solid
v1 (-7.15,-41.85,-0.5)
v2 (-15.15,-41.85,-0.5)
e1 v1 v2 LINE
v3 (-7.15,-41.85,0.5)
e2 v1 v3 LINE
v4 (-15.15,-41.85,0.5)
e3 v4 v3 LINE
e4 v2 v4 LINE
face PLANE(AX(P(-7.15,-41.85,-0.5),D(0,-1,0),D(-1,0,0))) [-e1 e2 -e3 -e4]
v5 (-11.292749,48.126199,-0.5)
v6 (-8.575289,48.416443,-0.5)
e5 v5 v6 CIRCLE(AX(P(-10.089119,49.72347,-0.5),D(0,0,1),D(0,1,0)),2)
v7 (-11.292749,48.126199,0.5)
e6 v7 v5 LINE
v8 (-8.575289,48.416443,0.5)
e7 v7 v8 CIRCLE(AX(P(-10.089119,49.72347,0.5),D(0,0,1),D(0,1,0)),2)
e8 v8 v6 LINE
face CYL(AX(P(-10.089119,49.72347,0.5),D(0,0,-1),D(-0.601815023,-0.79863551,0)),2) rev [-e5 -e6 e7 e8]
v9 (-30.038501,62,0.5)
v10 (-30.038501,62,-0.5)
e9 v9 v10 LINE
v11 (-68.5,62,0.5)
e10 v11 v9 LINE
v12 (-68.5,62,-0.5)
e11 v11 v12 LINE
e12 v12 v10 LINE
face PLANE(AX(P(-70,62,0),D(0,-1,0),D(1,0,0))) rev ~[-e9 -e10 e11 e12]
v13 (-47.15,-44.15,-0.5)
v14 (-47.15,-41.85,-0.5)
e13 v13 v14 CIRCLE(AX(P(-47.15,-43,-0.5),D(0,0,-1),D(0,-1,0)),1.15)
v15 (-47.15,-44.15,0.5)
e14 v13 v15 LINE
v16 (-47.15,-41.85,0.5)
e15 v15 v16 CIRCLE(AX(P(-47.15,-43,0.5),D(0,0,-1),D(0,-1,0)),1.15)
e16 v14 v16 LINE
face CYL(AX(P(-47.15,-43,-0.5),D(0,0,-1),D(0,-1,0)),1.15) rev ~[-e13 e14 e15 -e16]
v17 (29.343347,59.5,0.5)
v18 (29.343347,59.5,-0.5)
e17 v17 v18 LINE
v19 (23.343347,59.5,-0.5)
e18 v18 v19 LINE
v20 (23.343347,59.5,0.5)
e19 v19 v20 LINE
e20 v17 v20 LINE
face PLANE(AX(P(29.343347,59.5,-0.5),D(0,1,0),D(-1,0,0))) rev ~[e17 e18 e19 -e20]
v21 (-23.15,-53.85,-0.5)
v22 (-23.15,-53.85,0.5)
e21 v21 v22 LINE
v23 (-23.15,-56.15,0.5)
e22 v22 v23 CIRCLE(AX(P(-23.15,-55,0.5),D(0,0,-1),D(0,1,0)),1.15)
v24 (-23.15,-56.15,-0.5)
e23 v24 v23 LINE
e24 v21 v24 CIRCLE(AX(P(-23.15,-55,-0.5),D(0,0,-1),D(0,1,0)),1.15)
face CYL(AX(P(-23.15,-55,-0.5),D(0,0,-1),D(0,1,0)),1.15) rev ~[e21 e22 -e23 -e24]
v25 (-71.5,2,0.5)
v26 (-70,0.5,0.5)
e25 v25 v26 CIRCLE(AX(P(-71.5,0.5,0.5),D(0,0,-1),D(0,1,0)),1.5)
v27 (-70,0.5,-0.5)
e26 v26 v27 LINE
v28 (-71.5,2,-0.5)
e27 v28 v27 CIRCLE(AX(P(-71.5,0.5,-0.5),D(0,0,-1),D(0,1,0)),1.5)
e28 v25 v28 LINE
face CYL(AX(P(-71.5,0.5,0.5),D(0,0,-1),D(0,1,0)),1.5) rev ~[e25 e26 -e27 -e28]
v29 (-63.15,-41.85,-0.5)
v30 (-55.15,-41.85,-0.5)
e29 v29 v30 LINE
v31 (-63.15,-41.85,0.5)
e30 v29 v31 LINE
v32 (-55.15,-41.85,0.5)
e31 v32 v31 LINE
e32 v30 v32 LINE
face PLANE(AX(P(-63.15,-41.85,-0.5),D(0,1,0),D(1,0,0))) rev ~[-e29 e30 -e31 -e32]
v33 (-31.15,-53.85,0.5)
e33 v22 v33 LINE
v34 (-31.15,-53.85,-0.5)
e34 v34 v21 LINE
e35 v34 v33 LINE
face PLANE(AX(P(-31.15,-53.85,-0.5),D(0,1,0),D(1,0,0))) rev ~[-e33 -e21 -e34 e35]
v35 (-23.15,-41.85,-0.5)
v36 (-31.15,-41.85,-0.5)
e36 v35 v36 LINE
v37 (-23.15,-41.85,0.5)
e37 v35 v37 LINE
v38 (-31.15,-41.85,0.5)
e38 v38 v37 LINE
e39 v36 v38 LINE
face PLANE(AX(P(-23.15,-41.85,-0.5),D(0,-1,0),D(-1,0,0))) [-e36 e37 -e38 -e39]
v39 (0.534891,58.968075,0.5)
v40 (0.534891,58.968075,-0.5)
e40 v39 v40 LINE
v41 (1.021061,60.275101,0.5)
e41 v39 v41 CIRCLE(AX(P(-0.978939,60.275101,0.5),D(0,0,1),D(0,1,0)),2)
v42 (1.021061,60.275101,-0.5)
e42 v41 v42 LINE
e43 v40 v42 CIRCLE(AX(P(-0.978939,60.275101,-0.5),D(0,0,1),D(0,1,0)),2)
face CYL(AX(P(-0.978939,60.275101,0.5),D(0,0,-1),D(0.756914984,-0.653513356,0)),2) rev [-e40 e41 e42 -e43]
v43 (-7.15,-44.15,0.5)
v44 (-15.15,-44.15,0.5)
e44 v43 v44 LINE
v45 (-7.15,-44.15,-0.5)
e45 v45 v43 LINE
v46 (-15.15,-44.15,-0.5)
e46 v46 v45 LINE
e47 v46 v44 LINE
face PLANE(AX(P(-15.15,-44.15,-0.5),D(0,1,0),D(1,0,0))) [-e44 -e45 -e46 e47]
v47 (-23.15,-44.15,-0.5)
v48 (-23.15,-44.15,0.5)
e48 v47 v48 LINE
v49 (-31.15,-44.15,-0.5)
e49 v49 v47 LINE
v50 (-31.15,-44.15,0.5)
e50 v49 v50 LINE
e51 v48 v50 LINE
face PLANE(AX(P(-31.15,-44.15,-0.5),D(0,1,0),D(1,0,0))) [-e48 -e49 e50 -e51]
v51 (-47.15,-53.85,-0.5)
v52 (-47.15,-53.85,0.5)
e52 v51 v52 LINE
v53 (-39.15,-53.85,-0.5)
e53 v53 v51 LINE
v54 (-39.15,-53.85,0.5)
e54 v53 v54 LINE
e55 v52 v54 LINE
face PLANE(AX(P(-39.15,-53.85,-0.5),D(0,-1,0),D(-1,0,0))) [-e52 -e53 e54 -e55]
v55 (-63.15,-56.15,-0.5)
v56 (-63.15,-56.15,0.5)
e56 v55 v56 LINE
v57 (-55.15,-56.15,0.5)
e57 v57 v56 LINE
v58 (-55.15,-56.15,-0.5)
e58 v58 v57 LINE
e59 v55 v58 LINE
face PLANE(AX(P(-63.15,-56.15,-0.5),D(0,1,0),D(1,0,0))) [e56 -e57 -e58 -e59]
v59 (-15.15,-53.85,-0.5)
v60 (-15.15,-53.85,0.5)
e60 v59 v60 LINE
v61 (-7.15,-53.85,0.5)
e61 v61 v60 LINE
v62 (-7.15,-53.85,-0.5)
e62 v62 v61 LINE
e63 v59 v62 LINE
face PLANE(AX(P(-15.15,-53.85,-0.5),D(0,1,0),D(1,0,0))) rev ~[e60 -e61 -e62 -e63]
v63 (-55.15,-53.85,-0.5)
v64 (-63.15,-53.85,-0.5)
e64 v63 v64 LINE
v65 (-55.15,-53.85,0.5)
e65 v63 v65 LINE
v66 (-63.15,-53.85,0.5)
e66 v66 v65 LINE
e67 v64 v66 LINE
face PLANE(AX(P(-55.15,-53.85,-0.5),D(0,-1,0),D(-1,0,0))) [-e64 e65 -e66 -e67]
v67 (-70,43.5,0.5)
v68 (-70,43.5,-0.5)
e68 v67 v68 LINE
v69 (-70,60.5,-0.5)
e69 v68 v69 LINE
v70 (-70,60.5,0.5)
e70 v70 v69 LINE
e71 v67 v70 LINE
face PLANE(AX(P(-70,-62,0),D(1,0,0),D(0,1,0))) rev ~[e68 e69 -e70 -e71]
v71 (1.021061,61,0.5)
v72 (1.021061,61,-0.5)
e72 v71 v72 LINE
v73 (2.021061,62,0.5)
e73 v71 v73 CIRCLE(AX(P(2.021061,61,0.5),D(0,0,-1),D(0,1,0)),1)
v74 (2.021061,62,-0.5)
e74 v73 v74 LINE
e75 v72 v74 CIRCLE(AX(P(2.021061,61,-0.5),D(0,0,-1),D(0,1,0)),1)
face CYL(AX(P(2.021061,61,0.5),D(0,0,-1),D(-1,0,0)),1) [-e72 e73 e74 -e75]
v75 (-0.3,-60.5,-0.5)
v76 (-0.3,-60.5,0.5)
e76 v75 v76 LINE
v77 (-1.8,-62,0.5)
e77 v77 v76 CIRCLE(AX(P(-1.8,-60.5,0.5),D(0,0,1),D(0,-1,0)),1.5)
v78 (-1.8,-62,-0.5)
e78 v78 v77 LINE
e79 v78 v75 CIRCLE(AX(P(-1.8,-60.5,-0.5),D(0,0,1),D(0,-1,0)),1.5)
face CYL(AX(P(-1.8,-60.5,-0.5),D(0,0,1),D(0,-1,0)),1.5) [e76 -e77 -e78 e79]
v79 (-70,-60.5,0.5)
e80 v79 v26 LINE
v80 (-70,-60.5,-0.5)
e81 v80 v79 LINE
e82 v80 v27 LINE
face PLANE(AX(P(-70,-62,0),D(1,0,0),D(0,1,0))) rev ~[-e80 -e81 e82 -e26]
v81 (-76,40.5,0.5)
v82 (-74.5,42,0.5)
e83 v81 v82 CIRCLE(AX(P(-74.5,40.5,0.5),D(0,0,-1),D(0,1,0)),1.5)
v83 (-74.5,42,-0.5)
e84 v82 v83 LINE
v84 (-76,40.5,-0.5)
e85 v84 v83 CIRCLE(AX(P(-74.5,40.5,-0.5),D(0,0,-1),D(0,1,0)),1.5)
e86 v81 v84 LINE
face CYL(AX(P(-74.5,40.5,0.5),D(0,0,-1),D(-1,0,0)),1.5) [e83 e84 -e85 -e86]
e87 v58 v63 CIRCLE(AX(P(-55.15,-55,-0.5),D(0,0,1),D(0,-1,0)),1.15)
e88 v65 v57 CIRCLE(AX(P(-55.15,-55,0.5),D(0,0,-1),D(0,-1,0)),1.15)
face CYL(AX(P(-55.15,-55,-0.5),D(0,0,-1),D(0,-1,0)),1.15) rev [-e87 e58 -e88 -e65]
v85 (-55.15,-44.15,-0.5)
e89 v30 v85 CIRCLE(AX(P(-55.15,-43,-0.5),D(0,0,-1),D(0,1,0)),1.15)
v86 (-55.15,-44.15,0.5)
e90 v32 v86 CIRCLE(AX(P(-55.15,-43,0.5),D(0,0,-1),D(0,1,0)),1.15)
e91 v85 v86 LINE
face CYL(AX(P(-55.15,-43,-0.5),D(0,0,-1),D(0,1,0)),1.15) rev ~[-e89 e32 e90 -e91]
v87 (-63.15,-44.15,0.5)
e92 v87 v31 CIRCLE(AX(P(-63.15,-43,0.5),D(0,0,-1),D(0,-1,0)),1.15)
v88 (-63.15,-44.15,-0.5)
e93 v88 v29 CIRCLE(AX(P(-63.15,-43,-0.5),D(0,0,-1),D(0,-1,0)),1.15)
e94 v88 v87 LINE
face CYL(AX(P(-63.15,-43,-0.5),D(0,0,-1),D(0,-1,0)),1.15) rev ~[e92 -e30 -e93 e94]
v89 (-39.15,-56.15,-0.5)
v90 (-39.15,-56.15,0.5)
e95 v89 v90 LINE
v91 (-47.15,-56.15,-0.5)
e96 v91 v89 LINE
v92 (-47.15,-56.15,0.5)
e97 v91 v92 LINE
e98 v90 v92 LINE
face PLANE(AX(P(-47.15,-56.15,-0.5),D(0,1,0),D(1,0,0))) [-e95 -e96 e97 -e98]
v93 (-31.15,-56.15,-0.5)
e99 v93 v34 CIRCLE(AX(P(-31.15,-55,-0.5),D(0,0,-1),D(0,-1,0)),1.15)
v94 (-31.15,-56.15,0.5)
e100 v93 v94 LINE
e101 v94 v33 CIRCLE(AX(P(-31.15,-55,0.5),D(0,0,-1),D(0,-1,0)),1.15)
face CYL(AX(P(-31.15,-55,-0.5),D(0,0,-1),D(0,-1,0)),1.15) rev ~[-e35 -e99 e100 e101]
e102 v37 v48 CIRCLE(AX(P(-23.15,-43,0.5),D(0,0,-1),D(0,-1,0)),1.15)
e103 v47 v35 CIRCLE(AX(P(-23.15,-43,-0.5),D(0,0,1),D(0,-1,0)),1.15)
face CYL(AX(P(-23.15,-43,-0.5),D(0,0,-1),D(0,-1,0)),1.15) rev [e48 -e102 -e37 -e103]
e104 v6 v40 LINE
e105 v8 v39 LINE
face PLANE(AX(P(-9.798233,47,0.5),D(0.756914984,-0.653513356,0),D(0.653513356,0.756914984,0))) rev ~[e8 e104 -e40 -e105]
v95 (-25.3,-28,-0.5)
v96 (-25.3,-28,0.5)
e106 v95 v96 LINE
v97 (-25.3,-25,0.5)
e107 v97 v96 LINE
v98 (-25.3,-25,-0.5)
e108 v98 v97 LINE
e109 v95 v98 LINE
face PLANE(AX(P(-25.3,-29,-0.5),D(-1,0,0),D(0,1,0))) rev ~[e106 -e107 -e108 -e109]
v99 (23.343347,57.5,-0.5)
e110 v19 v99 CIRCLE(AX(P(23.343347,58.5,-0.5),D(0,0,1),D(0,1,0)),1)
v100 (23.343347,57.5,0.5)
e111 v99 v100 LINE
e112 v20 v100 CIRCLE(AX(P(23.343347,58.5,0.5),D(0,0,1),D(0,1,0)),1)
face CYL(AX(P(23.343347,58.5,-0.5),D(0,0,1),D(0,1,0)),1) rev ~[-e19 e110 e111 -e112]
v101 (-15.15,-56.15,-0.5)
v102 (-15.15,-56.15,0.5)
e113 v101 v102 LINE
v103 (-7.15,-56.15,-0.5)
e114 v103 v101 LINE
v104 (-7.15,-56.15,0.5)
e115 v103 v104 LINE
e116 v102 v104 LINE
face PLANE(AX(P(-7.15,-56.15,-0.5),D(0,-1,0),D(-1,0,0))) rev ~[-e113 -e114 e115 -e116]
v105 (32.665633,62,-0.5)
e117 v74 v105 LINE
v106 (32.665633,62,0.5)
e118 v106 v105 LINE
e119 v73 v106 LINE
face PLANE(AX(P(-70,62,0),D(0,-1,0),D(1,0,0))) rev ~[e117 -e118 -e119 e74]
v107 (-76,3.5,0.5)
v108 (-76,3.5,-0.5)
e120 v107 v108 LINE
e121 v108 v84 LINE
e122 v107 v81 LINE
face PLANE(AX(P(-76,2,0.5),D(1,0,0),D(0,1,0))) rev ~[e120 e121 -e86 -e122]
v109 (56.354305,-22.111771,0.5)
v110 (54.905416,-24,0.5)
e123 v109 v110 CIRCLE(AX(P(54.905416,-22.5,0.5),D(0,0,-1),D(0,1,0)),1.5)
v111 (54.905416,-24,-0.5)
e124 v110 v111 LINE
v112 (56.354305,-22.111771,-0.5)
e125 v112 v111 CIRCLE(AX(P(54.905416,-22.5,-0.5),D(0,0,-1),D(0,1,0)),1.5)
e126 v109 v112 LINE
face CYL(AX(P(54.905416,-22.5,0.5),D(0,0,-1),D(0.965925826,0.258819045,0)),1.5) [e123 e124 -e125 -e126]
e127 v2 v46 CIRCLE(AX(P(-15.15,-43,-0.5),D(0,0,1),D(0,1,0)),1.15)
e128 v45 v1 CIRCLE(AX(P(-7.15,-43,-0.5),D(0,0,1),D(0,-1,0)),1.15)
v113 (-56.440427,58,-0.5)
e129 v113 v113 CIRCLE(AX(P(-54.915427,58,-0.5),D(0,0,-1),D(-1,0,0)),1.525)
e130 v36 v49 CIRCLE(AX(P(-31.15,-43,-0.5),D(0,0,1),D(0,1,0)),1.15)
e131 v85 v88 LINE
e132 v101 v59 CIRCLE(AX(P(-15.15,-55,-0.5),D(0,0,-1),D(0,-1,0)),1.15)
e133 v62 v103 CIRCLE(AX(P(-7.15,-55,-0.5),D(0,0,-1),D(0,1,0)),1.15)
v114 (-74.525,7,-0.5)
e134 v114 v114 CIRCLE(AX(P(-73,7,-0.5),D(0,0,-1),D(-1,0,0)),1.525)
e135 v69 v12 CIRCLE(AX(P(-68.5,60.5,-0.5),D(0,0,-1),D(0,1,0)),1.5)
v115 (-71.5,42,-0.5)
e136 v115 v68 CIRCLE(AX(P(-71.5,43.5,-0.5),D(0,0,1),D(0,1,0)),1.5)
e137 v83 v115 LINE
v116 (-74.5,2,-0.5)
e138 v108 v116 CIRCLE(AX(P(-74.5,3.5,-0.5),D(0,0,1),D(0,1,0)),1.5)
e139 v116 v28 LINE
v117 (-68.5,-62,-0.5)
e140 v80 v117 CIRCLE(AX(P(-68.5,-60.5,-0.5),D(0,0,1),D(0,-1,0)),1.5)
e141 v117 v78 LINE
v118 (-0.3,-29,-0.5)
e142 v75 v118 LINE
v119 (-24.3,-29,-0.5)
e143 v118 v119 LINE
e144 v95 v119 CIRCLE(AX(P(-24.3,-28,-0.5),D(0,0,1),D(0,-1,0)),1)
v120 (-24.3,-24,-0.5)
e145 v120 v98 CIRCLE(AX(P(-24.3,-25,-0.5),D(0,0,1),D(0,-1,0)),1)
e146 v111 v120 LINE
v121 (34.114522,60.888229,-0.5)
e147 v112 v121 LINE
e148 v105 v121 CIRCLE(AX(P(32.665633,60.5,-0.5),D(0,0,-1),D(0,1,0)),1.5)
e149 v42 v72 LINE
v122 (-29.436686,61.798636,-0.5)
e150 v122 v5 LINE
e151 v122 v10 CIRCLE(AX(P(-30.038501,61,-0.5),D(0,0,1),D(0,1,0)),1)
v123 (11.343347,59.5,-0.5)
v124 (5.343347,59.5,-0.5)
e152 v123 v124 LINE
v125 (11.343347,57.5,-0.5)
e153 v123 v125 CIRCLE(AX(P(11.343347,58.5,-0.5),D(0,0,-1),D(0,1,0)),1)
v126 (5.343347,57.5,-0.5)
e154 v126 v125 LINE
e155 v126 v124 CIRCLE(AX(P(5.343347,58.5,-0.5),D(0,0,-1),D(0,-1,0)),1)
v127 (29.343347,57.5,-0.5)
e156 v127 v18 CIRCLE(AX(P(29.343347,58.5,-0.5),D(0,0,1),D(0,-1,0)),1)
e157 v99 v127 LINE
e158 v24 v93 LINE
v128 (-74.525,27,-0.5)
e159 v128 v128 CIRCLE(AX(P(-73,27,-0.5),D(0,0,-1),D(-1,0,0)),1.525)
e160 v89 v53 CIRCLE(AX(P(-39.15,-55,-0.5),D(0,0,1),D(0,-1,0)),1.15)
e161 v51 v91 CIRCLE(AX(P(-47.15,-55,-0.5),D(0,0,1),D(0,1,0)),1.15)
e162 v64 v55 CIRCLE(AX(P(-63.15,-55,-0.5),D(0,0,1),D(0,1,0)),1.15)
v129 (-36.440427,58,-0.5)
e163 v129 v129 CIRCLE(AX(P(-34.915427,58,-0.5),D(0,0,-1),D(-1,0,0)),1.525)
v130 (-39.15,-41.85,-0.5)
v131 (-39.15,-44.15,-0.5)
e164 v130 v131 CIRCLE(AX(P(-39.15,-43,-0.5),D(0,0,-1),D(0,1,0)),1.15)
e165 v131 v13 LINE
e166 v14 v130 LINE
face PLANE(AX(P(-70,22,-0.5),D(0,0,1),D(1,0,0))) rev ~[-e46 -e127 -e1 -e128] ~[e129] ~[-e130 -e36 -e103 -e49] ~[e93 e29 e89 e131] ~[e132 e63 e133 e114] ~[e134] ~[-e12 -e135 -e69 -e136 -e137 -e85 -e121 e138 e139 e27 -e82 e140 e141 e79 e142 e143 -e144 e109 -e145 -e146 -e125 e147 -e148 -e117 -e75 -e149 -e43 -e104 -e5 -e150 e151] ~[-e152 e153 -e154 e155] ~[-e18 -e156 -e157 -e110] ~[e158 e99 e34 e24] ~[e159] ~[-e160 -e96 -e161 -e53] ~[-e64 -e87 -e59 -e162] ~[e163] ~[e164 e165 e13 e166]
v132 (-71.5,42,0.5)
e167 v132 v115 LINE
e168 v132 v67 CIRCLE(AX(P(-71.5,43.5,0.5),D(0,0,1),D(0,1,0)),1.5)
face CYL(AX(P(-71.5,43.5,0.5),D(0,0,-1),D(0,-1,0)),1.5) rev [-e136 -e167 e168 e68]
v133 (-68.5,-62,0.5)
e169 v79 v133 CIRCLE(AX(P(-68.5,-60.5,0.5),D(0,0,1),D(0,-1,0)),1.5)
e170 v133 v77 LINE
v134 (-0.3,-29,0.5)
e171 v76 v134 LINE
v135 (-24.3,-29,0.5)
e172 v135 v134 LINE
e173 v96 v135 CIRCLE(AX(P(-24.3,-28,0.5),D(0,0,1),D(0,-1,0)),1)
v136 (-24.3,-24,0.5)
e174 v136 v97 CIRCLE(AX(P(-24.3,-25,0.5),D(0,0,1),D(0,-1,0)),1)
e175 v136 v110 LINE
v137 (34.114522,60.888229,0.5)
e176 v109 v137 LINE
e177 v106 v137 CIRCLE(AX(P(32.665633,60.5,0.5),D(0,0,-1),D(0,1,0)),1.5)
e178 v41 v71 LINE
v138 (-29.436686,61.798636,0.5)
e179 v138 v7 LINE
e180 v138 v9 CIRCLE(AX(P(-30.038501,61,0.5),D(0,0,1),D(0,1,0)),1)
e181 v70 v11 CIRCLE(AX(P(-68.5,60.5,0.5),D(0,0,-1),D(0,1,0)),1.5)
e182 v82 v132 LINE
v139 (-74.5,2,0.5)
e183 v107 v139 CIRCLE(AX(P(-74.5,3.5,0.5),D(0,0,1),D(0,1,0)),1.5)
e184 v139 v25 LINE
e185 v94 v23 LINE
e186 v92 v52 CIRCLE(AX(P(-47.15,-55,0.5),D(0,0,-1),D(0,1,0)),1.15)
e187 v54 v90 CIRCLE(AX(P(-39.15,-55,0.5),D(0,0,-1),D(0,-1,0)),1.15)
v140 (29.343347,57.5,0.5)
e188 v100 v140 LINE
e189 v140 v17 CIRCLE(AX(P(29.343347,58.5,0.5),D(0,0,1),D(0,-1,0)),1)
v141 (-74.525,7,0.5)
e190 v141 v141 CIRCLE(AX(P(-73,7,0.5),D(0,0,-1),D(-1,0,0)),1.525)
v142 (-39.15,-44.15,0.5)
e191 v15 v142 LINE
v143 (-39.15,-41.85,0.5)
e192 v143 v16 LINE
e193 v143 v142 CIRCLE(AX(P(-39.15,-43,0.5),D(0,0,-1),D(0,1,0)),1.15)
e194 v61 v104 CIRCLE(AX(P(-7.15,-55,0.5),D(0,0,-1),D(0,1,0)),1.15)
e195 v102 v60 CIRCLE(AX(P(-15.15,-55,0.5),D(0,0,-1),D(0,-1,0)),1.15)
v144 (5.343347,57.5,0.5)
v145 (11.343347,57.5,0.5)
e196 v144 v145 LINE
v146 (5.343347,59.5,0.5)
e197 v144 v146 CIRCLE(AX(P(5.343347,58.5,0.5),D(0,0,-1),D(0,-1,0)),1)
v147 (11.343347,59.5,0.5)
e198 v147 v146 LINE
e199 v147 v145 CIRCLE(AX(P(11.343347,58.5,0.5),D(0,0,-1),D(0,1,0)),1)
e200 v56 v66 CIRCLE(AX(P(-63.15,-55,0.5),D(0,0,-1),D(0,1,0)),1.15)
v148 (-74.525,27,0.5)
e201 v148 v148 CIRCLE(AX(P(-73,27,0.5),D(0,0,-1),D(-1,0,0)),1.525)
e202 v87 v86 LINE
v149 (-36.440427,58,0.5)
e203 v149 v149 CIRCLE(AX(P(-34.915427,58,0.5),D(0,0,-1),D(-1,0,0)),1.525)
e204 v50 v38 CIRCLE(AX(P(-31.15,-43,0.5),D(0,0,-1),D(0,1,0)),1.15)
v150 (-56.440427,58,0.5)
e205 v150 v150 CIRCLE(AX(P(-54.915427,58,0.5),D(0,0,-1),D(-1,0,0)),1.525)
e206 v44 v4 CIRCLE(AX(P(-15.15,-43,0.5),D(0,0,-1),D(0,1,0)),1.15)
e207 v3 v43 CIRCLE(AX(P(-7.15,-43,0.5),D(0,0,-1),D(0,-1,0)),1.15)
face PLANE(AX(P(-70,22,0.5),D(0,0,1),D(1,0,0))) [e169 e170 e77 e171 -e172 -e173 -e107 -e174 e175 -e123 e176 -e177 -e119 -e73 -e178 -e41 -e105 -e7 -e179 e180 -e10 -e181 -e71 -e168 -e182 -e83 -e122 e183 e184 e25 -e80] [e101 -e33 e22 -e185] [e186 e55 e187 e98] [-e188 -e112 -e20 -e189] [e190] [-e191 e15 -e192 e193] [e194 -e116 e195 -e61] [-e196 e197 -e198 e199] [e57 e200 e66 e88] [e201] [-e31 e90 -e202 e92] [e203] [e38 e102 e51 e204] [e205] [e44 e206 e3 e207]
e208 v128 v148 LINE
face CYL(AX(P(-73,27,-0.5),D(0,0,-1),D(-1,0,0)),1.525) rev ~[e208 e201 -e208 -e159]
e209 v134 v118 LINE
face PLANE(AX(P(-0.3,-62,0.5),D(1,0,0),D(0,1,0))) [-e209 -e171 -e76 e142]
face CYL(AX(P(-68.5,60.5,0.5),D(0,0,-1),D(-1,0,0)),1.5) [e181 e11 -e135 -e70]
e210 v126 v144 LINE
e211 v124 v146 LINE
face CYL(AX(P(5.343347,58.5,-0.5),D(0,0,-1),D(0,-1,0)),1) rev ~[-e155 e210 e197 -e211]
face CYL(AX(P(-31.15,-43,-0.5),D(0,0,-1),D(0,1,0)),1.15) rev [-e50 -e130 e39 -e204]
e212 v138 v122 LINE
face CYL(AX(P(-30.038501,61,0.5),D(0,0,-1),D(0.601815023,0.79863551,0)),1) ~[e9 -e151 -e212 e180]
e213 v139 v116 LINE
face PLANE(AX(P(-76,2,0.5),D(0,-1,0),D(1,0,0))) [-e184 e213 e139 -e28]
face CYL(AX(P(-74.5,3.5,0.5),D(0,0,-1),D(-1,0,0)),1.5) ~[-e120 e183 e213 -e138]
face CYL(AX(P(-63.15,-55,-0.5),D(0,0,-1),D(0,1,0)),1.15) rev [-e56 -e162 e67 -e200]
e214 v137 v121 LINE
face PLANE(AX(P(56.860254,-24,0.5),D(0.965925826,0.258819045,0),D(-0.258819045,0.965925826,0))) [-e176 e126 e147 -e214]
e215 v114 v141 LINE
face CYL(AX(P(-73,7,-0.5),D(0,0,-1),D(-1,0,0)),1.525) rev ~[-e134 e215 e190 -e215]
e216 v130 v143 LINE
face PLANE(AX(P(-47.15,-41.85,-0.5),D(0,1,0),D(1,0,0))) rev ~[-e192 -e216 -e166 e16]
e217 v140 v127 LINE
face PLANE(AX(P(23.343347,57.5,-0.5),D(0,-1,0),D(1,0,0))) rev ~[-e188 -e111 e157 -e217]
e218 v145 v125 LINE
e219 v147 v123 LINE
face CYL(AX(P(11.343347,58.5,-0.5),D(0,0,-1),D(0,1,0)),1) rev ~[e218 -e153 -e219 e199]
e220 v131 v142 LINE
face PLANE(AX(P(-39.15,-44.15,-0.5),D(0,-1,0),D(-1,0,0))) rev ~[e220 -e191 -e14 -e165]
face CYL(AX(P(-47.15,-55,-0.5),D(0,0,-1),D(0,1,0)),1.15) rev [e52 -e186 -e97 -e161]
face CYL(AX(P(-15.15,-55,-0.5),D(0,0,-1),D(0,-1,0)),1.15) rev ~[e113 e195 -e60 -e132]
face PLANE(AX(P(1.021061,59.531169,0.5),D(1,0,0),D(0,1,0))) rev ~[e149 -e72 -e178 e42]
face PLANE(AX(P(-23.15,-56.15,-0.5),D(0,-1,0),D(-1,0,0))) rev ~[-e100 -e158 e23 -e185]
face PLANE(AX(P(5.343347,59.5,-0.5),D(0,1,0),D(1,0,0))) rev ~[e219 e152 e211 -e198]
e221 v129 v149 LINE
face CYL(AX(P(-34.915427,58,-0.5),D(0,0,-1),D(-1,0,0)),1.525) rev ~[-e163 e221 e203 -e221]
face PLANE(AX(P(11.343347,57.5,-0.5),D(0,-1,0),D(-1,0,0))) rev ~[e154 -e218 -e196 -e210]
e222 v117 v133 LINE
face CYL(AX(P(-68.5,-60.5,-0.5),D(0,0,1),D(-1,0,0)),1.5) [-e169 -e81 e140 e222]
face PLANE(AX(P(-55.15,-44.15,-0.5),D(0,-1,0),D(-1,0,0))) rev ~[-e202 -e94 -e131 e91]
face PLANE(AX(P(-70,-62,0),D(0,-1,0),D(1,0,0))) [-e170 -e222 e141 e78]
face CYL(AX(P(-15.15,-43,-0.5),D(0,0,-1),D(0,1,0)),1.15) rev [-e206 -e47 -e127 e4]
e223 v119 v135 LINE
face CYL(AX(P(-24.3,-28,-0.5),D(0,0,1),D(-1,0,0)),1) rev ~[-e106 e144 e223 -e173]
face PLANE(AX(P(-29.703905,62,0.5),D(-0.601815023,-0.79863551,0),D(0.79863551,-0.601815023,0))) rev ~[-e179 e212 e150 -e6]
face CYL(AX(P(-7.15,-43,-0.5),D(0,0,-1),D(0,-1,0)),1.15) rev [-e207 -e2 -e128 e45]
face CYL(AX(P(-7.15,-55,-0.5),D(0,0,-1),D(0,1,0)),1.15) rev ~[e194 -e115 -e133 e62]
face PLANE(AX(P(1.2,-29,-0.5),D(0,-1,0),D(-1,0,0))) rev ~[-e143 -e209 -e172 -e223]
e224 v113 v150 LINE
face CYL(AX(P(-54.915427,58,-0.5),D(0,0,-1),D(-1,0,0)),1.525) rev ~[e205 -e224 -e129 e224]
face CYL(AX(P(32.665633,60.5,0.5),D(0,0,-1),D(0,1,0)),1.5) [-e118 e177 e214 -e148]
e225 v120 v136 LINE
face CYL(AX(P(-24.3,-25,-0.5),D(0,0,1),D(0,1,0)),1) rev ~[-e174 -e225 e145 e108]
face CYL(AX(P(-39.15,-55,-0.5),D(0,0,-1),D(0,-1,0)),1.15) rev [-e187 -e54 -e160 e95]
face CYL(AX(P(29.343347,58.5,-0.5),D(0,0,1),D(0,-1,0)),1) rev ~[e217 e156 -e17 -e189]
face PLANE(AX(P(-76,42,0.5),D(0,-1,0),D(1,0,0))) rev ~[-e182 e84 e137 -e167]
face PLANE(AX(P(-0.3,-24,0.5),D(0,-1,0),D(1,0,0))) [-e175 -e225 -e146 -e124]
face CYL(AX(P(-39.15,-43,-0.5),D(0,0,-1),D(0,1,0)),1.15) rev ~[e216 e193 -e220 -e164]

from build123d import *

# Parameters (mm, degrees)
SKETCH_1_W          = 140
SKETCH_1_H          = 124
EXTRUDE_1_DEPTH     = 0.5
CUT_EXTRUDE_1_DEPTH = 1.5
SKETCH_3_W          = 12
SKETCH_3_H          = 40
EXTRUDE_2_DEPTH     = 1
SKETCH_5_R          = 1.525
CUT_EXTRUDE_3_DEPTH = 10
FILLET_1_R          = 1.5
SKETCH_8_W          = 26.5
SKETCH_8_H          = 5
CUT_EXTRUDE_5_DEPTH = 10
CUT_EXTRUDE_6_DEPTH = 10
CUT_EXTRUDE_7_DEPTH = 10
FILLET_2_R          = 2
FILLET_3_R          = 1
FILLET_4_R          = 1
CUT_EXTRUDE_8_DEPTH = 5


with BuildPart() as part:
    # 草图1 → 凸台-拉伸1 (new, symmetric)
    with BuildSketch(Plane.XY):
        Rectangle(SKETCH_1_W, SKETCH_1_H)
    extrude(amount=EXTRUDE_1_DEPTH, both=True)

    # 草图2 → 切除-拉伸1 (cut, symmetric)
    with BuildSketch(Plane.XY.offset(0.5)):
        Polygon((-0.3, -62), (-0.3, -24), (56.860254038, -24), (33.816623489, 62), (70, 62), (70, -62), align=None)
    extrude(amount=CUT_EXTRUDE_1_DEPTH, both=True, mode=Mode.SUBTRACT)

    # 草图3 → 凸台-拉伸2 (add)
    with BuildSketch(Plane.XY.offset(0.5)):
        with Locations((-70, 22)):
            Rectangle(SKETCH_3_W, SKETCH_3_H)
    extrude(amount=-EXTRUDE_2_DEPTH)

    # 草图5 → 切除-拉伸3 (cut)
    with BuildSketch(Plane(origin=(0, 0, -0.5), x_dir=(-1, 0, 0), z_dir=(0, 0, -1))):
        with Locations((34.915427319, 58)):
            Circle(SKETCH_5_R)
        with Locations((54.915427319, 58)):
            Circle(SKETCH_5_R)
        with Locations((73, 27)):
            Circle(SKETCH_5_R)
        with Locations((73, 7)):
            Circle(SKETCH_5_R)
    extrude(amount=-CUT_EXTRUDE_3_DEPTH, mode=Mode.SUBTRACT)

    # 圆角1
    fillet_1_edges = [part.edges().sort_by_distance(p)[0] for p in [
        (-0.3, -62, 0),
        (-0.3, -24, 0),
        (56.860254038, -24, 0),
        (33.816623489, 62, 0),
        (-76, 42, 0),
        (-70, 42, 0),
        (-76, 2, 0),
        (-70, 2, 0),
        (-70, -62, 0),
        (-70, 62, 0),
    ]]
    fillet(fillet_1_edges, radius=FILLET_1_R)

    # 草图8 → 切除-拉伸5 (cut)
    with BuildSketch(Plane(origin=(0, 0, -0.5), x_dir=(-1, 0, 0), z_dir=(0, 0, -1))):
        with Locations((12.05, -26.5)):
            Rectangle(SKETCH_8_W, SKETCH_8_H)
    extrude(amount=-CUT_EXTRUDE_5_DEPTH, mode=Mode.SUBTRACT)

    # 草图9 → 切除-拉伸6 (cut)
    with BuildSketch(Plane(origin=(0, 0, -0.5), x_dir=(-1, 0, 0), z_dir=(0, 0, -1))):
        with BuildLine():
            Line((23.15, -41.85), (31.15, -41.85))
            ThreePointArc((31.15, -41.85), (32.3, -43), (31.15, -44.15))
            Line((31.15, -44.15), (23.15, -44.15))
            ThreePointArc((23.15, -44.15), (22, -43), (23.15, -41.85))
        make_face()
        with BuildLine():
            Line((7.15, -41.85), (15.15, -41.85))
            ThreePointArc((15.15, -41.85), (16.3, -43), (15.15, -44.15))
            Line((15.15, -44.15), (7.15, -44.15))
            ThreePointArc((7.15, -44.15), (6, -43), (7.15, -41.85))
        make_face()
        with BuildLine():
            Line((47.15, -41.85), (39.15, -41.85))
            ThreePointArc((39.15, -41.85), (38, -43), (39.15, -44.15))
            Line((39.15, -44.15), (47.15, -44.15))
            ThreePointArc((47.15, -44.15), (48.3, -43), (47.15, -41.85))
        make_face()
        with BuildLine():
            Line((63.15, -41.85), (55.15, -41.85))
            ThreePointArc((55.15, -41.85), (54, -43), (55.15, -44.15))
            Line((55.15, -44.15), (63.15, -44.15))
            ThreePointArc((63.15, -44.15), (64.3, -43), (63.15, -41.85))
        make_face()
        with BuildLine():
            Line((23.15, -56.15), (31.15, -56.15))
            ThreePointArc((31.15, -56.15), (32.3, -55), (31.15, -53.85))
            Line((31.15, -53.85), (23.15, -53.85))
            ThreePointArc((23.15, -53.85), (22, -55), (23.15, -56.15))
        make_face()
        with BuildLine():
            Line((7.15, -56.15), (15.15, -56.15))
            ThreePointArc((15.15, -56.15), (16.3, -55), (15.15, -53.85))
            Line((15.15, -53.85), (7.15, -53.85))
            ThreePointArc((7.15, -53.85), (6, -55), (7.15, -56.15))
        make_face()
        with BuildLine():
            Line((47.15, -56.15), (39.15, -56.15))
            ThreePointArc((39.15, -56.15), (38, -55), (39.15, -53.85))
            Line((39.15, -53.85), (47.15, -53.85))
            ThreePointArc((47.15, -53.85), (48.3, -55), (47.15, -56.15))
        make_face()
        with BuildLine():
            Line((63.15, -56.15), (55.15, -56.15))
            ThreePointArc((55.15, -56.15), (54, -55), (55.15, -53.85))
            Line((55.15, -53.85), (63.15, -53.85))
            ThreePointArc((63.15, -53.85), (64.3, -55), (63.15, -56.15))
        make_face()
    extrude(amount=-CUT_EXTRUDE_6_DEPTH, mode=Mode.SUBTRACT)

    # 草图10 → 切除-拉伸7 (cut)
    with BuildSketch(Plane.XY.offset(0.5)):
        Polygon((1.02106128, 59.531168527), (1.02106128, 62), (-29.703905389, 62), (-9.798233064, 47), align=None)
    extrude(amount=-CUT_EXTRUDE_7_DEPTH, mode=Mode.SUBTRACT)

    # 圆角2
    fillet_2_edges = [part.edges().sort_by_distance(p)[0] for p in [
        (1.02106128, 59.531168527, 0),
        (-9.798233064, 47, 0),
    ]]
    fillet(fillet_2_edges, radius=FILLET_2_R)

    # 圆角3
    fillet_3_edges = [part.edges().sort_by_distance(p)[0] for p in [
        (-29.703905389, 62, 0),
        (1.02106128, 62, 0),
    ]]
    fillet(fillet_3_edges, radius=FILLET_3_R)

    # 圆角4
    fillet_4_edges = [part.edges().sort_by_distance(p)[0] for p in [
        (-25.3, -24, 0),
        (-25.3, -29, 0),
    ]]
    fillet(fillet_4_edges, radius=FILLET_4_R)

    # 草图11 → 切除-拉伸8 (cut, symmetric)
    with BuildSketch(Plane(origin=(0, 0, -0.5), x_dir=(-1, 0, 0), z_dir=(0, 0, -1))):
        with BuildLine():
            Line((-29.343347144, 59.5), (-23.343347144, 59.5))
            ThreePointArc((-23.343347144, 59.5), (-22.343347144, 58.5), (-23.343347144, 57.5))
            Line((-23.343347144, 57.5), (-29.343347144, 57.5))
            ThreePointArc((-29.343347144, 57.5), (-30.343347144, 58.5), (-29.343347144, 59.5))
        make_face()
        with BuildLine():
            Line((-5.343347144, 59.5), (-11.343347144, 59.5))
            ThreePointArc((-11.343347144, 59.5), (-12.343347144, 58.5), (-11.343347144, 57.5))
            Line((-11.343347144, 57.5), (-5.343347144, 57.5))
            ThreePointArc((-5.343347144, 57.5), (-4.343347144, 58.5), (-5.343347144, 59.5))
        make_face()
    extrude(amount=CUT_EXTRUDE_8_DEPTH, both=True, mode=Mode.SUBTRACT)


solid = part.part
